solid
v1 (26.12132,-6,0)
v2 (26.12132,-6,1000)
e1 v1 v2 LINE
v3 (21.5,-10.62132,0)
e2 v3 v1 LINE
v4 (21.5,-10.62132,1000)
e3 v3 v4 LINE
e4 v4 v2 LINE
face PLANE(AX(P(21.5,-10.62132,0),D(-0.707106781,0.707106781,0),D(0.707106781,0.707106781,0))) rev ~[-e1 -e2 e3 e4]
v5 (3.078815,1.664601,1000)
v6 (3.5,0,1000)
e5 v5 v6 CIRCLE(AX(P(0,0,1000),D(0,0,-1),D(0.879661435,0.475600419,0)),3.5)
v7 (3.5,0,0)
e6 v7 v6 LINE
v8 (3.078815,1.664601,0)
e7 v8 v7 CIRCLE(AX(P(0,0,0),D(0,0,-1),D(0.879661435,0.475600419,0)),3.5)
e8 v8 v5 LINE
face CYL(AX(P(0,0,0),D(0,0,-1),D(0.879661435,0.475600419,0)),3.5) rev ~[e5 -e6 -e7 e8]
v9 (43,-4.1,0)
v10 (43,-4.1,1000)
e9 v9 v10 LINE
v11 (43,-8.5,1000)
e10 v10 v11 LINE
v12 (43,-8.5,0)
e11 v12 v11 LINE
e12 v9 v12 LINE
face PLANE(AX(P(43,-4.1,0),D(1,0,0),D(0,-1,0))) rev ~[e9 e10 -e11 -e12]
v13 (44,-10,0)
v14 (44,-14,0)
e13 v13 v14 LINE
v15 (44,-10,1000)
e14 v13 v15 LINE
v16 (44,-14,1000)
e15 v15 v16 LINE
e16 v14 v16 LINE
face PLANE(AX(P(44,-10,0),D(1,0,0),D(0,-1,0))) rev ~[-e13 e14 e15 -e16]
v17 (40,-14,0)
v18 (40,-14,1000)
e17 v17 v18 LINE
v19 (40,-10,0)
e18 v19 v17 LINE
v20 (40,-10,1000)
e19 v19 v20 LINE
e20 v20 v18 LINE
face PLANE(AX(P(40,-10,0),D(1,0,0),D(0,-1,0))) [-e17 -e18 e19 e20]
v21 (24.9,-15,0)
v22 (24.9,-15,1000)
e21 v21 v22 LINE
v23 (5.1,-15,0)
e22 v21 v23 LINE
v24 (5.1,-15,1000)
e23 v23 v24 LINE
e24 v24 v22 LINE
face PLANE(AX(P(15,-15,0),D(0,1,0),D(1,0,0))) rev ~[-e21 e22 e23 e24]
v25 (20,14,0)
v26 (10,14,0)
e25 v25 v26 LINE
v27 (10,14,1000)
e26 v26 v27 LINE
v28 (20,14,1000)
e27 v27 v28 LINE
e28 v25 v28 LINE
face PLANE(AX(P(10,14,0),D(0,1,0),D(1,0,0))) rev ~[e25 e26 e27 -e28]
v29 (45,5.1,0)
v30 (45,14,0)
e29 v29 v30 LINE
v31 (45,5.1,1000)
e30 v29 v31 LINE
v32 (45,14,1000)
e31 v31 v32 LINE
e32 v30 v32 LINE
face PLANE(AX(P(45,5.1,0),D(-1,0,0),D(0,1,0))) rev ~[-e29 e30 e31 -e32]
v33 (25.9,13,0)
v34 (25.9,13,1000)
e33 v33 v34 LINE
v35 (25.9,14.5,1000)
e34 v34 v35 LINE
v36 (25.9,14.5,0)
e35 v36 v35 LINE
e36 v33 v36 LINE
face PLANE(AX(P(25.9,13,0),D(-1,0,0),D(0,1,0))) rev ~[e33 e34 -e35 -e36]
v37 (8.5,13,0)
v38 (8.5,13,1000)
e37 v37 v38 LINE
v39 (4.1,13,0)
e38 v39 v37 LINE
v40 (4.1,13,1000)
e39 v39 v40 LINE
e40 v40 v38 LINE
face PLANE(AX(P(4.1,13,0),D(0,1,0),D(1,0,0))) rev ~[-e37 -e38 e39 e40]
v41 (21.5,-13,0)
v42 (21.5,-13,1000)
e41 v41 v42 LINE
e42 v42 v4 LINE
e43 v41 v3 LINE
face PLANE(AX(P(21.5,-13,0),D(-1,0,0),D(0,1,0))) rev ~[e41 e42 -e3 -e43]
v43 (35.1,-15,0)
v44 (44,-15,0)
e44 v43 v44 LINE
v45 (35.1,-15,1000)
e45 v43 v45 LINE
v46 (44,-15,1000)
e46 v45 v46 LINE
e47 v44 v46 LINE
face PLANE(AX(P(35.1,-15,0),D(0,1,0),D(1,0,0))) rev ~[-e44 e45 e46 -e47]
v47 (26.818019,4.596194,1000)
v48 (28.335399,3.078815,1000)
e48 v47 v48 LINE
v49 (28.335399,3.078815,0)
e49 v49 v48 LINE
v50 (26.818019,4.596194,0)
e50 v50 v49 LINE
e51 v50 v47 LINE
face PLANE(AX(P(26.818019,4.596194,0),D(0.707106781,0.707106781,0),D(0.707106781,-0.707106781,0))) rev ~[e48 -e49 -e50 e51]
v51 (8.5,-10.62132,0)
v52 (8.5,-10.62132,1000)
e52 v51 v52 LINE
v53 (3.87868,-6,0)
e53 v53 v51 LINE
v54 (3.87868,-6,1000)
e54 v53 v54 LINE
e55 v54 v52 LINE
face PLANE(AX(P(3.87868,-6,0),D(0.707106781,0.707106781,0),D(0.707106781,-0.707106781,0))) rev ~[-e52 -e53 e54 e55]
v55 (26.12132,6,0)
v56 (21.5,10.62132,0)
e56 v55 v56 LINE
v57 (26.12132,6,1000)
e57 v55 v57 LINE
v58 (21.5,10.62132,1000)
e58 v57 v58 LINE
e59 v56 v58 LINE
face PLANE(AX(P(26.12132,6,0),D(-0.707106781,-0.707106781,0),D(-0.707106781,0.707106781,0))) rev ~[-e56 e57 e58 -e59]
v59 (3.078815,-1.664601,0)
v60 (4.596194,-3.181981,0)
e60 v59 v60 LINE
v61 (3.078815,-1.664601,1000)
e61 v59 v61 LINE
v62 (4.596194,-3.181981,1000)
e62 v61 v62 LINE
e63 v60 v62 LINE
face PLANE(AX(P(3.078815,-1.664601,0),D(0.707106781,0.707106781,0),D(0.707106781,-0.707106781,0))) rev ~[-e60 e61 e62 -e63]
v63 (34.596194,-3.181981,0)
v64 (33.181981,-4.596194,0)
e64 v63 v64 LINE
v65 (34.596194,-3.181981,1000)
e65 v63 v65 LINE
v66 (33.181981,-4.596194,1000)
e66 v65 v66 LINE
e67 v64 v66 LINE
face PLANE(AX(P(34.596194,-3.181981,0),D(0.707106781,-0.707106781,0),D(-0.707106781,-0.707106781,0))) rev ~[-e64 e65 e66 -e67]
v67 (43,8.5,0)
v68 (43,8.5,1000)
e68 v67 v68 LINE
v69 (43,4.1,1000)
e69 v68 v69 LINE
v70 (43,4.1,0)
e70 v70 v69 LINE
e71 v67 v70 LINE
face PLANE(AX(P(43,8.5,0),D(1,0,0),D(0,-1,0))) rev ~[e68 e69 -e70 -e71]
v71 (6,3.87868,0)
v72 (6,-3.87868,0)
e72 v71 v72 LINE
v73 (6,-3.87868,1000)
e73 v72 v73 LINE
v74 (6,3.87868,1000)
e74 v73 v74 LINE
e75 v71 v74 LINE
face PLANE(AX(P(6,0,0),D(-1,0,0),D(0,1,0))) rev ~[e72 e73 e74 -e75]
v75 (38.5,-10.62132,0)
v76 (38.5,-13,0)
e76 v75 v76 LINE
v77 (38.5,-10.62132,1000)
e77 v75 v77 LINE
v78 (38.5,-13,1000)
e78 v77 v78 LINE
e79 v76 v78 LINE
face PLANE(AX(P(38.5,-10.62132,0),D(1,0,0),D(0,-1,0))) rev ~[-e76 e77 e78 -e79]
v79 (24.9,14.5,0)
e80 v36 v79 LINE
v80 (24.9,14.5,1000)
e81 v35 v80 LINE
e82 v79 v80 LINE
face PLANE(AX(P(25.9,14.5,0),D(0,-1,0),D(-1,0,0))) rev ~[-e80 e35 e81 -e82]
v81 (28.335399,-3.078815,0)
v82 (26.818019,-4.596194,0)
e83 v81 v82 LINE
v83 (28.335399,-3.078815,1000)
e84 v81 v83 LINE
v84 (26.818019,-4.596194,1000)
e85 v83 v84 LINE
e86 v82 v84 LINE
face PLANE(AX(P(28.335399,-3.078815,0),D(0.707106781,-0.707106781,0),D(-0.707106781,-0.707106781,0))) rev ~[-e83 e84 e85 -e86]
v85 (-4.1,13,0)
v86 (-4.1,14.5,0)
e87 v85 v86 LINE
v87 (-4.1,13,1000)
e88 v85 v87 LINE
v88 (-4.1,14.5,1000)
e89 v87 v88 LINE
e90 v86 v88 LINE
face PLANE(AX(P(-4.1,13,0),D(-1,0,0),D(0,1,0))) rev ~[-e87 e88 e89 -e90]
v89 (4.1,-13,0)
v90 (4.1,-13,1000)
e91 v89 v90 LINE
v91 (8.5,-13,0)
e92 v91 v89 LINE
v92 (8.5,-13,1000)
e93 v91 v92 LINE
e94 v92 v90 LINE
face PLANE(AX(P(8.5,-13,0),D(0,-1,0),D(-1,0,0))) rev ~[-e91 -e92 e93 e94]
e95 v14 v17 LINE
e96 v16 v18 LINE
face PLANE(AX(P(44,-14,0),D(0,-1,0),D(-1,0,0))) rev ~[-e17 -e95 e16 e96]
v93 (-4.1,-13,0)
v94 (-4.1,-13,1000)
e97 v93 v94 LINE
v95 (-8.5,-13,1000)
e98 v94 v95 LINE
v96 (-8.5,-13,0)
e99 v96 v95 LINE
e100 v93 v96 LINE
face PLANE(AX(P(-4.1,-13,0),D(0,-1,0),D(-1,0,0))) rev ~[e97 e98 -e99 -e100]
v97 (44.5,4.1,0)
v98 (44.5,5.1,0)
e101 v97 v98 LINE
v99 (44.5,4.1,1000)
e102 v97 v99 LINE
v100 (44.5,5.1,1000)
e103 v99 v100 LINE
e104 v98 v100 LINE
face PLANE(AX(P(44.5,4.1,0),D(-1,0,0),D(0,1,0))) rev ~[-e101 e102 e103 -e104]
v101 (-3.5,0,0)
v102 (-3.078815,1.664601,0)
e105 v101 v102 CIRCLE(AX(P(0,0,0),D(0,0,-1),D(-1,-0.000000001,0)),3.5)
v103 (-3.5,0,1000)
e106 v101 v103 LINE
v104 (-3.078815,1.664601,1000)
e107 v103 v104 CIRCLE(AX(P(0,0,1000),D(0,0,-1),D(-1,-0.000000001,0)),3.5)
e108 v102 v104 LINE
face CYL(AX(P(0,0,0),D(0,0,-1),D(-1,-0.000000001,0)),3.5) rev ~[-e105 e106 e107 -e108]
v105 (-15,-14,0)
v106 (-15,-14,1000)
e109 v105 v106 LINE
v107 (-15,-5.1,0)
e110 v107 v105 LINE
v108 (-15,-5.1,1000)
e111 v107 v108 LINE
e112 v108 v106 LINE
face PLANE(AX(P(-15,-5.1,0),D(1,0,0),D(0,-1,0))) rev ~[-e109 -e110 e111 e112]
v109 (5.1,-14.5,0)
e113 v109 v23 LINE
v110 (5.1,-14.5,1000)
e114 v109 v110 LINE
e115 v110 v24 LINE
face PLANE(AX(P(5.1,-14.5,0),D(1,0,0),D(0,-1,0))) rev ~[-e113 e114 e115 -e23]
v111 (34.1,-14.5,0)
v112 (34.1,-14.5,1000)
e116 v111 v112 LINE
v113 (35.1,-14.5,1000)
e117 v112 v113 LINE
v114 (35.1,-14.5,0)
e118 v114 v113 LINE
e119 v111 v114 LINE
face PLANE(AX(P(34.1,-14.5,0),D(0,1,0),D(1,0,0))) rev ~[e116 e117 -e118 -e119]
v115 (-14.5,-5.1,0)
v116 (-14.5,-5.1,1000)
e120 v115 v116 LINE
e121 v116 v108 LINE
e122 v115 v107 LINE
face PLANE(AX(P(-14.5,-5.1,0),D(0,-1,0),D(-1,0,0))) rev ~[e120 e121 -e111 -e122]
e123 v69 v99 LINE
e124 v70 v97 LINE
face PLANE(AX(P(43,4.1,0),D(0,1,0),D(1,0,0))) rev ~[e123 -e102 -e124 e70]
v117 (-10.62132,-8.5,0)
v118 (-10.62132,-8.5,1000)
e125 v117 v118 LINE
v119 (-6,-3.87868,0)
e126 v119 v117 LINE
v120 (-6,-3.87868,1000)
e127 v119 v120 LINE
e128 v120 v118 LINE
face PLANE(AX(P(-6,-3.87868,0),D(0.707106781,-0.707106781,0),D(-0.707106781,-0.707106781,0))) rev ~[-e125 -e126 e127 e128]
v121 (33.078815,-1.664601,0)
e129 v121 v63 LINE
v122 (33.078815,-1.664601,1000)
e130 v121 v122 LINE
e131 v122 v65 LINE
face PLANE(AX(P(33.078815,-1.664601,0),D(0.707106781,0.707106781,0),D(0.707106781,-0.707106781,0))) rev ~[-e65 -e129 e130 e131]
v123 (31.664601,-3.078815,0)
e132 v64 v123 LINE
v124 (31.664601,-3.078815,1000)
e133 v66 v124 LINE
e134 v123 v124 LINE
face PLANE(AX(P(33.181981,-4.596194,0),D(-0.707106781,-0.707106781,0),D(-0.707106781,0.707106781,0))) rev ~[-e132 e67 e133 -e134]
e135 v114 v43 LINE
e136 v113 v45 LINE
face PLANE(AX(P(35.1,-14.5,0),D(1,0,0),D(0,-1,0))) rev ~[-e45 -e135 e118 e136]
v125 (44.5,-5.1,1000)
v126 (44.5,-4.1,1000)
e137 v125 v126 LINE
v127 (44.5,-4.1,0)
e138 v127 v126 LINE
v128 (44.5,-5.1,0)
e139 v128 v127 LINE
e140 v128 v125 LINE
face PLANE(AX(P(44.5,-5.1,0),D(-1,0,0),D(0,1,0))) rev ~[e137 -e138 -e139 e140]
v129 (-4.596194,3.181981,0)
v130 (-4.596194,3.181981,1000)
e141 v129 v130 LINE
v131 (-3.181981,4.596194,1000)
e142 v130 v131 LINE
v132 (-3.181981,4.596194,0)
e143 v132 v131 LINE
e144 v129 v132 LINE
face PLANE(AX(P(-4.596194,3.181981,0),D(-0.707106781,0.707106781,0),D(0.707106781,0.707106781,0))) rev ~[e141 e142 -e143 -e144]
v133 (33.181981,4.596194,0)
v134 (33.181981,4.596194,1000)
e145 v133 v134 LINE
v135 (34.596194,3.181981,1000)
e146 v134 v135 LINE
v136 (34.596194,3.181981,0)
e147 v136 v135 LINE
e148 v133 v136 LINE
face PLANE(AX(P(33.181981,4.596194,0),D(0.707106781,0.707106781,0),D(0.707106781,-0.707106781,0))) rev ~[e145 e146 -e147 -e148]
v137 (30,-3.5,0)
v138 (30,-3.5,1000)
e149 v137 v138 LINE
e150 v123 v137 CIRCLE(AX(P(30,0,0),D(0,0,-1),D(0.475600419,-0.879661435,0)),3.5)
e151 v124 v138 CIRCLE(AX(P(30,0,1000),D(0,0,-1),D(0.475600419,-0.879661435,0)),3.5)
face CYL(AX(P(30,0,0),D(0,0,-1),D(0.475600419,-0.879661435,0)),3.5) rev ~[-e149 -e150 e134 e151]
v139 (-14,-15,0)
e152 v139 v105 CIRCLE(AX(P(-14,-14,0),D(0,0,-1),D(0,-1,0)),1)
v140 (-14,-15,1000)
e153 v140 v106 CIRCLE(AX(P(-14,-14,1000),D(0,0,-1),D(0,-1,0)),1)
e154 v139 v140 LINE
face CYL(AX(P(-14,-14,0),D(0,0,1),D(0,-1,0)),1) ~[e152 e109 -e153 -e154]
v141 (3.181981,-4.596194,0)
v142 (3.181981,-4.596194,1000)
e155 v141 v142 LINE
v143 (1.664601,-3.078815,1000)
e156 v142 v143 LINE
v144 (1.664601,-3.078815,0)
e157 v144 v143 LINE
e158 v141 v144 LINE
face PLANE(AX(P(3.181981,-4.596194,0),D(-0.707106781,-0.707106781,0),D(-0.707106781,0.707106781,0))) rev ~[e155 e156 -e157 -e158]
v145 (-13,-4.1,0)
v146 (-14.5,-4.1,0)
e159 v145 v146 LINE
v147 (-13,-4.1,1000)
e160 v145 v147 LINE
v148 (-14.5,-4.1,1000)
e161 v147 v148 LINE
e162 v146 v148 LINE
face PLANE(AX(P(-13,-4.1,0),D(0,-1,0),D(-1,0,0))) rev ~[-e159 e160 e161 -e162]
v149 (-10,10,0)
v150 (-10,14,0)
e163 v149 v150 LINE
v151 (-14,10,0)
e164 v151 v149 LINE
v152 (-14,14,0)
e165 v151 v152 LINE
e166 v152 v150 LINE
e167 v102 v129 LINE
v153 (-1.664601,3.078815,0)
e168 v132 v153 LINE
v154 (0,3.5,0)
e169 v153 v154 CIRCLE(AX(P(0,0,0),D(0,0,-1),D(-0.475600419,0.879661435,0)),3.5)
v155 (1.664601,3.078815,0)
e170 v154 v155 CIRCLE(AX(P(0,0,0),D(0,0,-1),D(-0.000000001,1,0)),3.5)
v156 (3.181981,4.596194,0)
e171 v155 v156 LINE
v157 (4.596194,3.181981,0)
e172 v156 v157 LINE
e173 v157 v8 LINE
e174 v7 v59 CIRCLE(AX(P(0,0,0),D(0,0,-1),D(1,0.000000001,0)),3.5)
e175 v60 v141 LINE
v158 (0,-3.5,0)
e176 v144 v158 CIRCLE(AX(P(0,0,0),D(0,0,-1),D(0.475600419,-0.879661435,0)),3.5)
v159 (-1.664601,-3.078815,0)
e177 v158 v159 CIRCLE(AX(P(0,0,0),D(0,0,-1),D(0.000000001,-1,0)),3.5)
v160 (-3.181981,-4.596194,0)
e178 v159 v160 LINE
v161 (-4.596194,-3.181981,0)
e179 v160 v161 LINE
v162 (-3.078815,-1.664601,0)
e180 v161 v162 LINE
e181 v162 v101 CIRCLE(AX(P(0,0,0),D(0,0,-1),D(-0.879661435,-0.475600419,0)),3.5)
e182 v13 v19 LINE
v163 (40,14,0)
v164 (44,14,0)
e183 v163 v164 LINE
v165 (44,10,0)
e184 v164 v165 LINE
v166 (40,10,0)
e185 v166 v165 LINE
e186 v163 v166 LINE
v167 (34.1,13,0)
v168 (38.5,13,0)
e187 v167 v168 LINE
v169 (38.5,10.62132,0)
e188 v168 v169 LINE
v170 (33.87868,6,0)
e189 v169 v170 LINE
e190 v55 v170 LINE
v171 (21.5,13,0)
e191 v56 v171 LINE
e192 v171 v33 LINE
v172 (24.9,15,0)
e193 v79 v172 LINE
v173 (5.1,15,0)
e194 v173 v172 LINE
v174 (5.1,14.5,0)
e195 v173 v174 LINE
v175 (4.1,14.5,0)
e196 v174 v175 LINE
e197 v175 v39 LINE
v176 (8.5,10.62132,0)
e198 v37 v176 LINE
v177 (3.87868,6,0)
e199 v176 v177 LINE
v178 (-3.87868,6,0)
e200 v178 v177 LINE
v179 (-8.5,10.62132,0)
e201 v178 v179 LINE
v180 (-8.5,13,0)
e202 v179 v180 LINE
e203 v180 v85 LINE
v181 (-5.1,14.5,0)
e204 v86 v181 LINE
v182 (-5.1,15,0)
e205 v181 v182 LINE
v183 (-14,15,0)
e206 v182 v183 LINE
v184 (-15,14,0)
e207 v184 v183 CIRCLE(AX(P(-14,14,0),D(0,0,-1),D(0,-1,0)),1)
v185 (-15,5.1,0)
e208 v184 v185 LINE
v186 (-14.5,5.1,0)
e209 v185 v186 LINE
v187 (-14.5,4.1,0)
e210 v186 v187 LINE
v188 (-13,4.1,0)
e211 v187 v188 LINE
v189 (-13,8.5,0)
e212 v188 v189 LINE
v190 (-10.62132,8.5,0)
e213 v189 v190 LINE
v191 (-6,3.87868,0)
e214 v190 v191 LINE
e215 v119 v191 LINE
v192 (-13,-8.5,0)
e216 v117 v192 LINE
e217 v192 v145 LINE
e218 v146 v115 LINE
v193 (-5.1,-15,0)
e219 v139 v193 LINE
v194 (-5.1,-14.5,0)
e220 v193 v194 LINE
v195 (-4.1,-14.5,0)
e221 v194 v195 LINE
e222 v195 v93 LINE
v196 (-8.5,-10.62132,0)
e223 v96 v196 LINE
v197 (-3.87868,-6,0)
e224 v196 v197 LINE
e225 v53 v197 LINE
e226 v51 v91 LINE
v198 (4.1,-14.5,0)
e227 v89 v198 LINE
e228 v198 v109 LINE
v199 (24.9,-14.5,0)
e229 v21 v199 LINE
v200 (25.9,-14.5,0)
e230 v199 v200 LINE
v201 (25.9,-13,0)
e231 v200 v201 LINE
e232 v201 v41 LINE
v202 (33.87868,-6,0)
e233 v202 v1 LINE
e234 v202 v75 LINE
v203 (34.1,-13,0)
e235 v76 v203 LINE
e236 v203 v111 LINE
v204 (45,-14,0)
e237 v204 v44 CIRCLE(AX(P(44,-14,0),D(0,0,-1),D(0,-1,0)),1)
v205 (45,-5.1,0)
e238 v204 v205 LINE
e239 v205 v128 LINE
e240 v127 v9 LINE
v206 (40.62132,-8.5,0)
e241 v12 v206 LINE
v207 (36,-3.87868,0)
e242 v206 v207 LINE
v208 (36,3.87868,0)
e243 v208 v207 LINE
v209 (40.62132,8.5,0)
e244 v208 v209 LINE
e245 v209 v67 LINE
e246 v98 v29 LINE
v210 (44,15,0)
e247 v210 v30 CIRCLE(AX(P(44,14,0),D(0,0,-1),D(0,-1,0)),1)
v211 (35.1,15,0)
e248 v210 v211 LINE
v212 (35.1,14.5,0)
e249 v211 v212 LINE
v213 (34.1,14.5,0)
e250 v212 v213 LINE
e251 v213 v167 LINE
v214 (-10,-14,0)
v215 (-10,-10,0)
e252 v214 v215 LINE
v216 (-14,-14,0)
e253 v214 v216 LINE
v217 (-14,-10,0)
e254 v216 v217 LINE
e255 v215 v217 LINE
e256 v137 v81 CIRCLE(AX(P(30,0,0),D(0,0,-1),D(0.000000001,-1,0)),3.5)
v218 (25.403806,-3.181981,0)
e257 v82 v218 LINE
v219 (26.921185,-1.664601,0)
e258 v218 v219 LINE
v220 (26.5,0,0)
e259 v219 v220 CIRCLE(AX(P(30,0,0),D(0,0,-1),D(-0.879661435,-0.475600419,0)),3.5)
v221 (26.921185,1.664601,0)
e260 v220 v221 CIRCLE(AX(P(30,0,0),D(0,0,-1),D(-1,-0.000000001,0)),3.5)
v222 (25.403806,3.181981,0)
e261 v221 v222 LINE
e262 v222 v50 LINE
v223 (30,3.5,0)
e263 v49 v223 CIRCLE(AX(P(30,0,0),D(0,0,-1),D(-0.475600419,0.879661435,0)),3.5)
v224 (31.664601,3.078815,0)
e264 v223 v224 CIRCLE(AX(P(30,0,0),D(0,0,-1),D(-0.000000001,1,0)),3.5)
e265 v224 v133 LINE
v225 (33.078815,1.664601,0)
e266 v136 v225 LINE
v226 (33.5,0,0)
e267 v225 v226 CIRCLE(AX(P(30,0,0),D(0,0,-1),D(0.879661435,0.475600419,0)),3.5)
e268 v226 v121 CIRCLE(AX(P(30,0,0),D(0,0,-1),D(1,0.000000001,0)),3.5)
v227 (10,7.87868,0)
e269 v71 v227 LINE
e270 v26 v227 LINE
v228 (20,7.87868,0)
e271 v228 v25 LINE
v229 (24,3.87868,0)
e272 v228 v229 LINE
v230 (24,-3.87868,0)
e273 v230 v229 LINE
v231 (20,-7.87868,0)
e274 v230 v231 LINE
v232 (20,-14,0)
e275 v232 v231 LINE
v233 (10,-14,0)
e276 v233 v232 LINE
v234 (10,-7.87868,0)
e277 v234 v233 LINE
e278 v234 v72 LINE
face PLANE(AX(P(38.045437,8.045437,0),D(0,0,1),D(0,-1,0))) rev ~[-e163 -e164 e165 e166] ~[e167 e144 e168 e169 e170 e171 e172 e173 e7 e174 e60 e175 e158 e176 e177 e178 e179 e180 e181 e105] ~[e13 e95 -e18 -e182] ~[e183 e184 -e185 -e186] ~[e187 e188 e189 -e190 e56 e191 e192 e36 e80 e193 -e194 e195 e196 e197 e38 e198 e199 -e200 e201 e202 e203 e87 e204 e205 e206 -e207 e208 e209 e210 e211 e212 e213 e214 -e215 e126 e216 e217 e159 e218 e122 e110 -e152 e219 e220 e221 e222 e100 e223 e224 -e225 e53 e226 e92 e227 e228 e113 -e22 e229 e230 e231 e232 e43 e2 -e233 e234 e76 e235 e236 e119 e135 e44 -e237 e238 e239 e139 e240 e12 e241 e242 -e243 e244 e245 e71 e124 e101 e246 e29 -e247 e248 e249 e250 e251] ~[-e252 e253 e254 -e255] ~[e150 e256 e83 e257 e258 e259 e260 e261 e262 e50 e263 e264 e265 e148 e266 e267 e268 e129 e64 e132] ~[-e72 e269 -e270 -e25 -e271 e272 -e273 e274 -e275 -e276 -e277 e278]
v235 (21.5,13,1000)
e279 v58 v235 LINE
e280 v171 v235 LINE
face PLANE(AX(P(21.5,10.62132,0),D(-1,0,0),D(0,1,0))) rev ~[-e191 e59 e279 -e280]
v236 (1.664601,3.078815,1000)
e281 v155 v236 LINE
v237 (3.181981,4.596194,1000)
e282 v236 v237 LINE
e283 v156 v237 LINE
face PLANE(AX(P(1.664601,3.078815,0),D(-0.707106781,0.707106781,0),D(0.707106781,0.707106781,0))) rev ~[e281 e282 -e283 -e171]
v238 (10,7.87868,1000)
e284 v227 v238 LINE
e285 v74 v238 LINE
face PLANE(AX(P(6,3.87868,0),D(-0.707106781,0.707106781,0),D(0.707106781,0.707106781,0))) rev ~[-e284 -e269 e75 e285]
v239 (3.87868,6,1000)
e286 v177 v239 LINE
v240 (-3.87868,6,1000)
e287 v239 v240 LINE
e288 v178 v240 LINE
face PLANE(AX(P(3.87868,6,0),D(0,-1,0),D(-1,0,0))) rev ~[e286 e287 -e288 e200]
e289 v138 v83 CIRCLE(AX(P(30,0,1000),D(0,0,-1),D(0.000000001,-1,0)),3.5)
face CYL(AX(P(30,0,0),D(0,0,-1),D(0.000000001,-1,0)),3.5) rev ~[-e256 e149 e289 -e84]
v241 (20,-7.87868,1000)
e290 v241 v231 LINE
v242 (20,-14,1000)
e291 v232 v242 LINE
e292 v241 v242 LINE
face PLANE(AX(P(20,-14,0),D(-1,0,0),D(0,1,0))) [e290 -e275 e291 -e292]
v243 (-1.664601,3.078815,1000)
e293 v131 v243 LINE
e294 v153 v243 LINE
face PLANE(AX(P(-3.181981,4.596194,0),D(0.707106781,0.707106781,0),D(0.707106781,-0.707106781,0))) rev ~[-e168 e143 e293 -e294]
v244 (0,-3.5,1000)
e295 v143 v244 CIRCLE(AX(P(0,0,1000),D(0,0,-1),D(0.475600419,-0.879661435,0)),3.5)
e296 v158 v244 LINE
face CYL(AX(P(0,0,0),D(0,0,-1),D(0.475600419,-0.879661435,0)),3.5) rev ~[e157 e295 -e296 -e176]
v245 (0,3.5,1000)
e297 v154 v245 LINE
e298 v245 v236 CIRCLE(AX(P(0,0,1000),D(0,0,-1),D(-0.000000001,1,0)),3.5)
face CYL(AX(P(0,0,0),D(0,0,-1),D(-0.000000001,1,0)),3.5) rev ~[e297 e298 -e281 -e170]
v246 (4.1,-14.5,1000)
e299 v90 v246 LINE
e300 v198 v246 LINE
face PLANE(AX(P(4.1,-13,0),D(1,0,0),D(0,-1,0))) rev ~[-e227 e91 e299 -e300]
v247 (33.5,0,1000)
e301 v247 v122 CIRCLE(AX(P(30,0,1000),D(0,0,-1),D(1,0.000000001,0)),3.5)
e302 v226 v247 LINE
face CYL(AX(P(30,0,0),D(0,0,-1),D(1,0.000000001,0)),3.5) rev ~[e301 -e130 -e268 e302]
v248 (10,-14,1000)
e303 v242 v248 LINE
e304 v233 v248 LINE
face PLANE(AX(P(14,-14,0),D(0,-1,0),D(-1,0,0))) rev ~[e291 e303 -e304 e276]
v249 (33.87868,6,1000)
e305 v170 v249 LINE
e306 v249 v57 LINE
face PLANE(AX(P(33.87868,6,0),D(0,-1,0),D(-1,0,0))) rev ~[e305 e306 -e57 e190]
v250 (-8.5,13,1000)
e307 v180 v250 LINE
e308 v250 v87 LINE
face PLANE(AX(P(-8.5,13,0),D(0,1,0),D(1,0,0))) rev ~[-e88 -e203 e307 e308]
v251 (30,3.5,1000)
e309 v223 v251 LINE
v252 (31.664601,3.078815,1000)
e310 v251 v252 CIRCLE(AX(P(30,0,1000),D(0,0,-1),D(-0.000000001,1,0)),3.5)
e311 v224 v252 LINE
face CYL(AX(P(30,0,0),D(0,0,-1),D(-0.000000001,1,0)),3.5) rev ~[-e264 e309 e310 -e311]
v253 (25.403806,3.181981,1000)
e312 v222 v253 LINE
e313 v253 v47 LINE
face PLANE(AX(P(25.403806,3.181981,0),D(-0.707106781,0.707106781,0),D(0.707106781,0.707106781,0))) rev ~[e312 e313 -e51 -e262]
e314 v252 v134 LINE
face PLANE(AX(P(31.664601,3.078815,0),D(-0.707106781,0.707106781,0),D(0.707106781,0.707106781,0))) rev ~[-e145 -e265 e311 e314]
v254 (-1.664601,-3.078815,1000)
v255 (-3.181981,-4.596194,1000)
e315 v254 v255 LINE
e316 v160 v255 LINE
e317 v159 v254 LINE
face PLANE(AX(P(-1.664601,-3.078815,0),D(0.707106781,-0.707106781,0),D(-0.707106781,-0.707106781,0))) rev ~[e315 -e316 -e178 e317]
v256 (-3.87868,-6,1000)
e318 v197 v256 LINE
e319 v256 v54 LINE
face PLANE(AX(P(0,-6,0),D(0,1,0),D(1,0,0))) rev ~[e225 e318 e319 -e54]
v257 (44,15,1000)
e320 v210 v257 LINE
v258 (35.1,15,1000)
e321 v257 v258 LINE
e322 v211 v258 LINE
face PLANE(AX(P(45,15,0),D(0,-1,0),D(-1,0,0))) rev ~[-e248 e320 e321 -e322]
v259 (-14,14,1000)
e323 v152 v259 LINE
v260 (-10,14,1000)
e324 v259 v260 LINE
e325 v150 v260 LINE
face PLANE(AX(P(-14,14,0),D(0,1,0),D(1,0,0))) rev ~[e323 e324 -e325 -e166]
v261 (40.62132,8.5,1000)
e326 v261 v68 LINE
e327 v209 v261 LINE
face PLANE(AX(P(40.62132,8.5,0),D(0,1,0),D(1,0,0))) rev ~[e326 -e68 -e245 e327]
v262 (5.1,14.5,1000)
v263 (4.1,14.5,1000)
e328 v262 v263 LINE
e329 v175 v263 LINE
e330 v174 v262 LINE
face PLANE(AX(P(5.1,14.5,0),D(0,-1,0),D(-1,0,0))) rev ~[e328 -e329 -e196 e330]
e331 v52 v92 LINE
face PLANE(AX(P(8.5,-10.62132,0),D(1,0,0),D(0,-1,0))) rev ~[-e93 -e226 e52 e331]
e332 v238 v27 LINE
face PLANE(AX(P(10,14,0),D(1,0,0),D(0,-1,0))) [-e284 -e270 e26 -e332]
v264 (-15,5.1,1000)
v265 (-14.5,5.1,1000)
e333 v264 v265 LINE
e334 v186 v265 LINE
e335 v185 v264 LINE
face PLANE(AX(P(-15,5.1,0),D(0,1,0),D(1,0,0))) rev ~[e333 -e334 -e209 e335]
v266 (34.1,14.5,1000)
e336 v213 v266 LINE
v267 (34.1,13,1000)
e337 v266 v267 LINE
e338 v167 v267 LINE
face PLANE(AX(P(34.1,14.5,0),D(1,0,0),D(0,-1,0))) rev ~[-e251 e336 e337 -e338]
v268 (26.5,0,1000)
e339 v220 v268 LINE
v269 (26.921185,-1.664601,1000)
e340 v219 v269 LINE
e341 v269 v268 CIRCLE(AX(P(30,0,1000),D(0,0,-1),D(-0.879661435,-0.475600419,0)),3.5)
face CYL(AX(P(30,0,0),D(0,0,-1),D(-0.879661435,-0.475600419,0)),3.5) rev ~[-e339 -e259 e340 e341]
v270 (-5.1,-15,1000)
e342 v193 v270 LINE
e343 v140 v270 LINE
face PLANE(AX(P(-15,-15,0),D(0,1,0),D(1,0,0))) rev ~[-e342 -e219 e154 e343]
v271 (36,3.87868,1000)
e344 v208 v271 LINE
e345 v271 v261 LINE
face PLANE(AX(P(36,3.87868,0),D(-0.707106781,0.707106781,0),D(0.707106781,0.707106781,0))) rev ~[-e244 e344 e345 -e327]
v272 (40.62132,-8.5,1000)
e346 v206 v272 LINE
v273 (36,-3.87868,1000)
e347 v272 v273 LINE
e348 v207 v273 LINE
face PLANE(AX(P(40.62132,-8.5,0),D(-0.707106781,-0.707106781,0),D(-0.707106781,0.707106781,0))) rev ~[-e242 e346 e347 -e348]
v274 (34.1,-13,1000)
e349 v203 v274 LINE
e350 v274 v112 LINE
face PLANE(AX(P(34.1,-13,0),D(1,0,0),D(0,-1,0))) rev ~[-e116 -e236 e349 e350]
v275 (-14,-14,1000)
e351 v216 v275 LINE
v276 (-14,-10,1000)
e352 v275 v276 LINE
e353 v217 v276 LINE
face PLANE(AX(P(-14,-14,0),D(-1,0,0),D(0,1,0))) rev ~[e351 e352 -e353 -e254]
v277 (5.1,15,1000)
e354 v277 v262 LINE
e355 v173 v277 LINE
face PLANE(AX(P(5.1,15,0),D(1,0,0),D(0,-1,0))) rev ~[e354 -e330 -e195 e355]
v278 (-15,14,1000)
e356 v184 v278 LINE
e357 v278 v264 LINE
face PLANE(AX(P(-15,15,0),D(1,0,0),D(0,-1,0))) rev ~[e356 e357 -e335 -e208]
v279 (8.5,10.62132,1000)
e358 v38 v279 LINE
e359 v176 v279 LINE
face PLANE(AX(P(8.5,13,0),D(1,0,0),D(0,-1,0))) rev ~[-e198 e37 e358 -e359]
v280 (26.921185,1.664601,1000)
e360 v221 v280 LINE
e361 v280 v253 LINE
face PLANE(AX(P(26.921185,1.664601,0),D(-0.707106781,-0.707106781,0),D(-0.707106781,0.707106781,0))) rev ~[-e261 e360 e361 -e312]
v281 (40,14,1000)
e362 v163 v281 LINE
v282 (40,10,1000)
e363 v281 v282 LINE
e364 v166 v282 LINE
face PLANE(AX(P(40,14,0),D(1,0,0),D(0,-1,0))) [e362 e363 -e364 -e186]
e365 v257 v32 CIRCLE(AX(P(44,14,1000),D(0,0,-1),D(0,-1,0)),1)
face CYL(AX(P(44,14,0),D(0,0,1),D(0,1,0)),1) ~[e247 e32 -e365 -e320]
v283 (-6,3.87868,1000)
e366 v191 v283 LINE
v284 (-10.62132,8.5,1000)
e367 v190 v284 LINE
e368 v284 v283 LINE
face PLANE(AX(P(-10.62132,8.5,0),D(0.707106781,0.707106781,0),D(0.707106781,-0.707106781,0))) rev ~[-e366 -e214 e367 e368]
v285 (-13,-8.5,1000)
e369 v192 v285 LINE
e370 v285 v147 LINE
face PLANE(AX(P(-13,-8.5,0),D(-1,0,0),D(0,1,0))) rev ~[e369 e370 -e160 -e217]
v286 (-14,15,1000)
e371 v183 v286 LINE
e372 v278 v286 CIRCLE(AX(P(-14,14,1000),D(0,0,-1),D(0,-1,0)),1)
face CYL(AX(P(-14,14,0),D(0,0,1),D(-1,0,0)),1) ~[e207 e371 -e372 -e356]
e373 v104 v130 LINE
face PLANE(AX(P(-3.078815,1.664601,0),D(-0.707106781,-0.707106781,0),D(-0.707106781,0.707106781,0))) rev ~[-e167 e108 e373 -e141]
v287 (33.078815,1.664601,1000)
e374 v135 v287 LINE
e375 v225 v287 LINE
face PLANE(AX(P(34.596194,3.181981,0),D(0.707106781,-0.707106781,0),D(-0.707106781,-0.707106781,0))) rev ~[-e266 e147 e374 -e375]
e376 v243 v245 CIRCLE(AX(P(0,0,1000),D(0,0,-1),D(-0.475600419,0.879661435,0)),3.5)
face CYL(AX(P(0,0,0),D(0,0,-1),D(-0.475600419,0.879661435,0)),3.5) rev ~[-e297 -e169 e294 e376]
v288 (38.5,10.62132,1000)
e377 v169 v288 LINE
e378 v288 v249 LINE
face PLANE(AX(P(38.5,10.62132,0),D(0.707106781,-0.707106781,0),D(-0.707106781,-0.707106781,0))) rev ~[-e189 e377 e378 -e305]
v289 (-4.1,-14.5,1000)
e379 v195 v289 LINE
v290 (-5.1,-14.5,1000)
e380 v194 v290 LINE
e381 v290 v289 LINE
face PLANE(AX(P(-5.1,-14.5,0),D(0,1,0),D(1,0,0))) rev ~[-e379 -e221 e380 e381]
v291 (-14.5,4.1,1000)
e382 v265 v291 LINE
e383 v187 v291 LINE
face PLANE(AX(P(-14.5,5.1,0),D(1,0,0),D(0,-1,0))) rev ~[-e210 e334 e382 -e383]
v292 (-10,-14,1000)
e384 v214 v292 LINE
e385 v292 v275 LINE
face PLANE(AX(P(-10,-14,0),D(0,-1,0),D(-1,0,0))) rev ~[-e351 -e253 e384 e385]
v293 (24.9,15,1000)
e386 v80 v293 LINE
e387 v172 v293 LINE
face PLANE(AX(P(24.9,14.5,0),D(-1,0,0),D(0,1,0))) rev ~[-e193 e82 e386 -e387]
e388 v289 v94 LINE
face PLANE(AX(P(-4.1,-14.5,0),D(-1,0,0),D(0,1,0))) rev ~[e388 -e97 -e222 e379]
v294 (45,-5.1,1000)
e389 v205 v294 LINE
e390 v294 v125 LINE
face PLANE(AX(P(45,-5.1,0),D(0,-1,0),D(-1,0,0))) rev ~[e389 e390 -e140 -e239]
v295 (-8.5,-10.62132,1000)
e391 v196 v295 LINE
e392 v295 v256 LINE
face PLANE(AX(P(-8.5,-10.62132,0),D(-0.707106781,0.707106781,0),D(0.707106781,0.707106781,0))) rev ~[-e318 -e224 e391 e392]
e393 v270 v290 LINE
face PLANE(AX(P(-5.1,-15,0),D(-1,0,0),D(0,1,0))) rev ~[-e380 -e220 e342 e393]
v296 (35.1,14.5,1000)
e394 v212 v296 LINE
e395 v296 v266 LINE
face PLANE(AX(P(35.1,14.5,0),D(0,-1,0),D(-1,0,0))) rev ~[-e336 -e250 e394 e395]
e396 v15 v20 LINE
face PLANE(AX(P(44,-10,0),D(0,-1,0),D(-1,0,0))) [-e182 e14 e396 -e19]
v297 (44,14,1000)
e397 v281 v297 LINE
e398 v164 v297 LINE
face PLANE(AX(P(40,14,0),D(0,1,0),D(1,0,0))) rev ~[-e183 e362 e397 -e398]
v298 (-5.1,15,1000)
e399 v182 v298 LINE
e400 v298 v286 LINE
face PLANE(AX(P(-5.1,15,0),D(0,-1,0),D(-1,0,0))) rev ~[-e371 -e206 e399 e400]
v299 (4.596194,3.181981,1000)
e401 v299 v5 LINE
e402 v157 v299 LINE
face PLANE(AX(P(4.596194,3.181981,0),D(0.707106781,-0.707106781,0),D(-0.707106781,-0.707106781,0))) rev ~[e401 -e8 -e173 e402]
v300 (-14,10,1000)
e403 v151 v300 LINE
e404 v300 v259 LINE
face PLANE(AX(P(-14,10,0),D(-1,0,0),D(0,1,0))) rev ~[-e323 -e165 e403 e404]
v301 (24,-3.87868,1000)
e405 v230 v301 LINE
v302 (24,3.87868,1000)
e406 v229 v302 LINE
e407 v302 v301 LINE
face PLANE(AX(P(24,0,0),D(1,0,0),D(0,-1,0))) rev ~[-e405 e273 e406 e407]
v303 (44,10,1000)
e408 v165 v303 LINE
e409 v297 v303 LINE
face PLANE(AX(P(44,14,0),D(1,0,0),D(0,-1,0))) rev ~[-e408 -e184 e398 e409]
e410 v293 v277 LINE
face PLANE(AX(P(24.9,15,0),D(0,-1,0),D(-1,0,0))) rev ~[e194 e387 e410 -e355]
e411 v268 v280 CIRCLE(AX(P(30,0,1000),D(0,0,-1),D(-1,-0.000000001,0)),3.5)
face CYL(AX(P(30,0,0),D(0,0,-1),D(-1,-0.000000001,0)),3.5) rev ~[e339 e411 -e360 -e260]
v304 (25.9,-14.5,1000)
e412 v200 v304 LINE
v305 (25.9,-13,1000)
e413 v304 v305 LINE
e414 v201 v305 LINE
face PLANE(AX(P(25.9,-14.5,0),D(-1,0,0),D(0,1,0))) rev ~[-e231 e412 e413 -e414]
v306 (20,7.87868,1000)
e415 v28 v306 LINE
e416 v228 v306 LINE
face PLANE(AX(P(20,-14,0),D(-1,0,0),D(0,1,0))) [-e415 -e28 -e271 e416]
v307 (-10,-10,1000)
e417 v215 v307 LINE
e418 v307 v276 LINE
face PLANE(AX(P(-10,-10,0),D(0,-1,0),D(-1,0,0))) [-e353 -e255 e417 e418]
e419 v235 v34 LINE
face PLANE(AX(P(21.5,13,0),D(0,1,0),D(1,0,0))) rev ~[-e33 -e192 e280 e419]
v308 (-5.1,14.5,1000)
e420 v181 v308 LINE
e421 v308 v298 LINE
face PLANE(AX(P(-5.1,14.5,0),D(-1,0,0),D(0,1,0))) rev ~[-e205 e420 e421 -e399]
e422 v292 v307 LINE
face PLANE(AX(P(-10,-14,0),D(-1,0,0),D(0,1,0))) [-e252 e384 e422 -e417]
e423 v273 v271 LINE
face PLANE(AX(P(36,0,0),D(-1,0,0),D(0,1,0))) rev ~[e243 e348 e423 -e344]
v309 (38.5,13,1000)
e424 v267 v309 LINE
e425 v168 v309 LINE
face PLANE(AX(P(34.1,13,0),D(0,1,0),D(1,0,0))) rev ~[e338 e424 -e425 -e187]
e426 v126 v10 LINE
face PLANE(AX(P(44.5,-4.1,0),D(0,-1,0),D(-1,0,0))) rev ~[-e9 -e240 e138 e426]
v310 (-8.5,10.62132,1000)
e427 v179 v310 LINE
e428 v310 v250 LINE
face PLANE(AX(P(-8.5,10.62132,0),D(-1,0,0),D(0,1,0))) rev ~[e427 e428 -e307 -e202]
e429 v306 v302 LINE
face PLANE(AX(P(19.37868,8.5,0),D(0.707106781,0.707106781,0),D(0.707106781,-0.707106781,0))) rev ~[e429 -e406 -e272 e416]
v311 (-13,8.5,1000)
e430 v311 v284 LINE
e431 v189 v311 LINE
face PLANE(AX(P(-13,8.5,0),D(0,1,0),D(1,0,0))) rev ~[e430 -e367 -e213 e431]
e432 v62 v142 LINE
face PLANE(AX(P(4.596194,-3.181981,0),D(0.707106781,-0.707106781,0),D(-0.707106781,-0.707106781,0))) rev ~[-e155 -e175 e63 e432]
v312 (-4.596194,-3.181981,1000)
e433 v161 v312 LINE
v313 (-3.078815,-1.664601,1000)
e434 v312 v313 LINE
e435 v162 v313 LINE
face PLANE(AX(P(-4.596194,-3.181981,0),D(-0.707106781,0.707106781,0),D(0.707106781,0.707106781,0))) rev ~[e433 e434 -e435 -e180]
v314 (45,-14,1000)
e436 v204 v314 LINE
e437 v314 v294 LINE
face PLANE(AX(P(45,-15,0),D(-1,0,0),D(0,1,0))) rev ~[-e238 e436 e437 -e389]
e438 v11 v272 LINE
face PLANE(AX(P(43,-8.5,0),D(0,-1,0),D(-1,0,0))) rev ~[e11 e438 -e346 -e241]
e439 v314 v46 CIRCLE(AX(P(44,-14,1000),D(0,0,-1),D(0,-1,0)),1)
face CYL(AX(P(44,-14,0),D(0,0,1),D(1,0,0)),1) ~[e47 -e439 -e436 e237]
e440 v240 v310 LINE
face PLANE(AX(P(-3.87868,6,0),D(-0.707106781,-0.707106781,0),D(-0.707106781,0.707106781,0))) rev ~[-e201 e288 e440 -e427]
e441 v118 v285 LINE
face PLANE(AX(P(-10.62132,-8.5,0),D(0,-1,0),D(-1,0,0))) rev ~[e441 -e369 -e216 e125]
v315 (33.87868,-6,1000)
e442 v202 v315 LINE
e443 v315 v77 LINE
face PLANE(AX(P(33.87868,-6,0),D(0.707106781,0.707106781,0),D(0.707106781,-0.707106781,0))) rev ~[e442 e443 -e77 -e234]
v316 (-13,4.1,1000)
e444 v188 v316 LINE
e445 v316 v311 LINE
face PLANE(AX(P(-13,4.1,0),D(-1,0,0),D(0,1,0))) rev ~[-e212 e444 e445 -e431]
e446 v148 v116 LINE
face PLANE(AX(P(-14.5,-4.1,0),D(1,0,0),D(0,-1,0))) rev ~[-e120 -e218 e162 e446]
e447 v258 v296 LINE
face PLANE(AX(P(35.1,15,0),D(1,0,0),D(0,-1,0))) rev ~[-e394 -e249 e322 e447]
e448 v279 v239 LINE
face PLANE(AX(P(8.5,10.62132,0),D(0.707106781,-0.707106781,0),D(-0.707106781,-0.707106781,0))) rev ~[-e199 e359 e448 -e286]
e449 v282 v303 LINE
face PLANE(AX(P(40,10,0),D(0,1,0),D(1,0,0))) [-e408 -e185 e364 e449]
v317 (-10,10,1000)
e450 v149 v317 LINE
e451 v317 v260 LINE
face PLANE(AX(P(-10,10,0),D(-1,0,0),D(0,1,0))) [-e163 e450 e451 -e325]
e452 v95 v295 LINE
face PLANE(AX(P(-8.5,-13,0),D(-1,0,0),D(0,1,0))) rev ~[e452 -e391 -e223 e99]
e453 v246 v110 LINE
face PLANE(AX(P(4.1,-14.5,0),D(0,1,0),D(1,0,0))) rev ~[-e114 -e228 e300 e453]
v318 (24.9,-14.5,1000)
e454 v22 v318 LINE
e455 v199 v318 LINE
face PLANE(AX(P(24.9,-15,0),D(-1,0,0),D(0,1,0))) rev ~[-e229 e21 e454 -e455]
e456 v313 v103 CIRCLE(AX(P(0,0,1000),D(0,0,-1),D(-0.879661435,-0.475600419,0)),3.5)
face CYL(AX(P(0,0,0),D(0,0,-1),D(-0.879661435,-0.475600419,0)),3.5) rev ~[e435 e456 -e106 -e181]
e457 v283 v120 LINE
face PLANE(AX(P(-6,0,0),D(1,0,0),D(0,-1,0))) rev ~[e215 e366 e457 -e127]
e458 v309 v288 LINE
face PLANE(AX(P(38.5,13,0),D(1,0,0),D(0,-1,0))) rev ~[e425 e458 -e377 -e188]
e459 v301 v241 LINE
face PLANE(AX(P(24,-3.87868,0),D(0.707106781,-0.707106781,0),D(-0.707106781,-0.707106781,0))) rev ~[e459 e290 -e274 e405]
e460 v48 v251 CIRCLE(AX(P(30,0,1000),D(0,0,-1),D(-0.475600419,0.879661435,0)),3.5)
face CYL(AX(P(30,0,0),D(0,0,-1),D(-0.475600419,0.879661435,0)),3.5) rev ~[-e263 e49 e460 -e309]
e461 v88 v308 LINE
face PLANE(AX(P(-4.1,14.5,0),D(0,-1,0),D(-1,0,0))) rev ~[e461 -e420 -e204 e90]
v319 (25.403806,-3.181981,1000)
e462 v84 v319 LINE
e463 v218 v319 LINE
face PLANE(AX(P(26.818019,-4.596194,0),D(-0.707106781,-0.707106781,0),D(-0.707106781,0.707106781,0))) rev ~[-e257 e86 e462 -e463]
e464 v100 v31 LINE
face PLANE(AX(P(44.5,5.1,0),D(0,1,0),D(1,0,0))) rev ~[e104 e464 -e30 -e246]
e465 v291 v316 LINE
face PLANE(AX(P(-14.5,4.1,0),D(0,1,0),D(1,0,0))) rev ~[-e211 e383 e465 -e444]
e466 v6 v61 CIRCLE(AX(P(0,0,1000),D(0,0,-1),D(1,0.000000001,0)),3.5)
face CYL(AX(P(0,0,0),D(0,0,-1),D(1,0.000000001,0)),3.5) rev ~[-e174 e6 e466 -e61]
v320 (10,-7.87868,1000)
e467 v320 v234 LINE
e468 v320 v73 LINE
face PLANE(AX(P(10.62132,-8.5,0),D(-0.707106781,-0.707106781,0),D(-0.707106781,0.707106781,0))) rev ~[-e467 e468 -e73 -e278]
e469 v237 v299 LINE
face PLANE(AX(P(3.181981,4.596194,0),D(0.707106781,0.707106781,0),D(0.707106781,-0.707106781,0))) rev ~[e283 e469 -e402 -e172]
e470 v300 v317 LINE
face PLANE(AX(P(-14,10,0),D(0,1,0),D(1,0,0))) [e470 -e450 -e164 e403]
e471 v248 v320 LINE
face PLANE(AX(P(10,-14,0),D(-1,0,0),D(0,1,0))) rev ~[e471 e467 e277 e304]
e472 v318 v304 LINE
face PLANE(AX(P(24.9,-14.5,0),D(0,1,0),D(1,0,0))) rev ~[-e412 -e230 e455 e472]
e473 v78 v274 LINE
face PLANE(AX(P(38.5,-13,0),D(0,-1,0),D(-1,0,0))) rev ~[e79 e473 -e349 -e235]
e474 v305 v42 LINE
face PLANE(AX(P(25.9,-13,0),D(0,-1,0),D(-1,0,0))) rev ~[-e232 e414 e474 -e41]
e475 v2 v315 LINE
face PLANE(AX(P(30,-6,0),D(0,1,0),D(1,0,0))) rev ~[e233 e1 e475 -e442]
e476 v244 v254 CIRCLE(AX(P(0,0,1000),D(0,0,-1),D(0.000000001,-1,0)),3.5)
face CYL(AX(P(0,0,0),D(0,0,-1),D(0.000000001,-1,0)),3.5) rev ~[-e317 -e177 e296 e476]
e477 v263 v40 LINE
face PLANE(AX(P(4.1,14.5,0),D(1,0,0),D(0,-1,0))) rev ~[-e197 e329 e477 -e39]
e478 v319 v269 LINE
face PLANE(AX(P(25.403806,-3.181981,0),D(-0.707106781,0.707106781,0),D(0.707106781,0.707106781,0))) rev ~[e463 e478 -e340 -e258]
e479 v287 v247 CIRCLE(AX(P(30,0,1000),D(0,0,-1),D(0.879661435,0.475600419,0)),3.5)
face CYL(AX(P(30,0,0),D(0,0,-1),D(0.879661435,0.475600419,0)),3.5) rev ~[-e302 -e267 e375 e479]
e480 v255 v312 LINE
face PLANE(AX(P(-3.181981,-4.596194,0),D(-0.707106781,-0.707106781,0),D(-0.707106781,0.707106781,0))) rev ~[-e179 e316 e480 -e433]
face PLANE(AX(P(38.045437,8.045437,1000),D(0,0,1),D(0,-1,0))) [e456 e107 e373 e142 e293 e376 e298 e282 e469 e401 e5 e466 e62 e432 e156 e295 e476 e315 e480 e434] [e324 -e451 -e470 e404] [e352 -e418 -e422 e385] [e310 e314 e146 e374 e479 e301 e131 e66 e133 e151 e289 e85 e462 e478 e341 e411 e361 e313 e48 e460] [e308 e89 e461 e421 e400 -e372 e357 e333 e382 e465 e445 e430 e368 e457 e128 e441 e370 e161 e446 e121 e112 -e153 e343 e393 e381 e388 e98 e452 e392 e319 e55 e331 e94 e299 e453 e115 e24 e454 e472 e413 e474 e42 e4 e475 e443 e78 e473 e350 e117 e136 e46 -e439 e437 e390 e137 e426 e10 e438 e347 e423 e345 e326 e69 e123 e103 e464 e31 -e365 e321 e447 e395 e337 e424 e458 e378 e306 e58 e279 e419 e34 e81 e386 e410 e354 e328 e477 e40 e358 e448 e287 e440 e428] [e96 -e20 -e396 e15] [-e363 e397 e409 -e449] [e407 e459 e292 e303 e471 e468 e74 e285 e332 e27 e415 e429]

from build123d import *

# Parameters (mm, degrees)
ESBO_O1_W                      = 4
ESBO_O1_H                      = 4
RESSALTO_EXTRUS_O1_DEPTH       = 1000
PADR_OCIRCULAR1_COUNT          = 4
PADR_O_LINEAR1_COUNT           = 2
PADR_O_LINEAR1_PITCH           = 30
PADR_O_LINEAR1_COPY_1_SKETCH_W = 4
PADR_O_LINEAR1_COPY_1_SKETCH_H = 4
PADR_O_LINEAR1_COPY_1_DEPTH    = 1000
PADR_O_LINEAR1_COPY_2_SKETCH_W = 4
PADR_O_LINEAR1_COPY_2_SKETCH_H = 4
PADR_O_LINEAR1_COPY_2_DEPTH    = 1000
PADR_O_LINEAR1_COPY_3_SKETCH_W = 4
PADR_O_LINEAR1_COPY_3_SKETCH_H = 4
PADR_O_LINEAR1_COPY_3_DEPTH    = 1000
ESBO_O4_W                      = 10
ESBO_O4_H                      = 28
CORTE_EXTRUS_O1_DEPTH          = 1002.124367898
FILETE1_R                      = 1


with BuildPart() as part:
    # Esboço1 → Ressalto-extrusão1 (new body)
    with BuildSketch(Plane.XY):
        with BuildLine():
            ThreePointArc((-1.664601464, 3.078815026), (-0.858529967, 3.393070335), (0, 3.5))
            Line((0, 3.5), (0, 6))
            Line((0, 6), (-3.878679656, 6))
            Line((-3.878679656, 6), (-8.5, 10.621320344))
            Line((-8.5, 10.621320344), (-8.5, 13))
            Line((-8.5, 13), (-4.1, 13))
            Line((-4.1, 13), (-4.1, 14.5))
            Line((-4.1, 14.5), (-5.1, 14.5))
            Line((-5.1, 14.5), (-5.1, 15))
            Line((-5.1, 15), (-15, 15))
            Line((-15, 15), (-15, 5.1))
            Line((-15, 5.1), (-14.5, 5.1))
            Line((-14.5, 5.1), (-14.5, 4.1))
            Line((-14.5, 4.1), (-13, 4.1))
            Line((-13, 4.1), (-13, 8.5))
            Line((-13, 8.5), (-10.621320344, 8.5))
            Line((-10.621320344, 8.5), (-6, 3.878679656))
            Line((-6, 3.878679656), (-6, 0))
            Line((-6, 0), (-3.5, 0))
            ThreePointArc((-3.5, 0), (-3.393070335, 0.858529967), (-3.078815026, 1.664601464))
            Line((-3.078815026, 1.664601464), (-4.596194078, 3.181980515))
            Line((-4.596194078, 3.181980515), (-3.181980515, 4.596194078))
            Line((-3.181980515, 4.596194078), (-1.664601464, 3.078815026))
        make_face()
        with Locations((-12, 12)):
            Rectangle(ESBO_O1_W, ESBO_O1_H, mode=Mode.SUBTRACT)
    ressalto_extrus_o1 = extrude(amount=RESSALTO_EXTRUS_O1_DEPTH)

    # PadrãoCircular1: Ressalto-extrusão1 ×4 about axis
    padr_ocircular1_axis = Axis((0, 0, 0), (0, 0, 1))
    for i in range(1, PADR_OCIRCULAR1_COUNT):
        add(ressalto_extrus_o1.rotate(padr_ocircular1_axis, i * 360 / PADR_OCIRCULAR1_COUNT))

    # Padrão linear1: Ressalto-extrusão1 ×2
    with Locations(*[(i * PADR_O_LINEAR1_PITCH, 0, 0) for i in range(1, PADR_O_LINEAR1_COUNT)]):
        add(ressalto_extrus_o1)

    # Padrão linear1 copy 1 sketch → Padrão linear1 copy 1 (add)
    with BuildSketch(Plane(origin=(30, 0, 0), x_dir=(0, 1, 0), z_dir=(0, 0, 1))):
        with BuildLine():
            ThreePointArc((-1.664601464, 3.078815026), (-0.858529967, 3.393070335), (0, 3.5))
            Line((0, 3.5), (0, 6))
            Line((0, 6), (-3.878679656, 6))
            Line((-3.878679656, 6), (-8.5, 10.621320344))
            Line((-8.5, 10.621320344), (-8.5, 13))
            Line((-8.5, 13), (-4.1, 13))
            Line((-4.1, 13), (-4.1, 14.5))
            Line((-4.1, 14.5), (-5.1, 14.5))
            Line((-5.1, 14.5), (-5.1, 15))
            Line((-5.1, 15), (-15, 15))
            Line((-15, 15), (-15, 5.1))
            Line((-15, 5.1), (-14.5, 5.1))
            Line((-14.5, 5.1), (-14.5, 4.1))
            Line((-14.5, 4.1), (-13, 4.1))
            Line((-13, 4.1), (-13, 8.5))
            Line((-13, 8.5), (-10.621320344, 8.5))
            Line((-10.621320344, 8.5), (-6, 3.878679656))
            Line((-6, 3.878679656), (-6, 0))
            Line((-6, 0), (-3.5, 0))
            ThreePointArc((-3.5, 0), (-3.393070335, 0.858529967), (-3.078815026, 1.664601464))
            Line((-3.078815026, 1.664601464), (-4.596194078, 3.181980515))
            Line((-4.596194078, 3.181980515), (-3.181980515, 4.596194078))
            Line((-3.181980515, 4.596194078), (-1.664601464, 3.078815026))
        make_face()
        with Locations((-12, 12)):
            Rectangle(PADR_O_LINEAR1_COPY_1_SKETCH_W, PADR_O_LINEAR1_COPY_1_SKETCH_H, mode=Mode.SUBTRACT)
    extrude(amount=PADR_O_LINEAR1_COPY_1_DEPTH)

    # Padrão linear1 copy 2 sketch → Padrão linear1 copy 2 (add)
    with BuildSketch(Plane(origin=(30, 0, 0), x_dir=(-1, 0, 0), z_dir=(0, 0, 1))):
        with BuildLine():
            ThreePointArc((-1.664601464, 3.078815026), (-0.858529967, 3.393070335), (0, 3.5))
            Line((0, 3.5), (0, 6))
            Line((0, 6), (-3.878679656, 6))
            Line((-3.878679656, 6), (-8.5, 10.621320344))
            Line((-8.5, 10.621320344), (-8.5, 13))
            Line((-8.5, 13), (-4.1, 13))
            Line((-4.1, 13), (-4.1, 14.5))
            Line((-4.1, 14.5), (-5.1, 14.5))
            Line((-5.1, 14.5), (-5.1, 15))
            Line((-5.1, 15), (-15, 15))
            Line((-15, 15), (-15, 5.1))
            Line((-15, 5.1), (-14.5, 5.1))
            Line((-14.5, 5.1), (-14.5, 4.1))
            Line((-14.5, 4.1), (-13, 4.1))
            Line((-13, 4.1), (-13, 8.5))
            Line((-13, 8.5), (-10.621320344, 8.5))
            Line((-10.621320344, 8.5), (-6, 3.878679656))
            Line((-6, 3.878679656), (-6, 0))
            Line((-6, 0), (-3.5, 0))
            ThreePointArc((-3.5, 0), (-3.393070335, 0.858529967), (-3.078815026, 1.664601464))
            Line((-3.078815026, 1.664601464), (-4.596194078, 3.181980515))
            Line((-4.596194078, 3.181980515), (-3.181980515, 4.596194078))
            Line((-3.181980515, 4.596194078), (-1.664601464, 3.078815026))
        make_face()
        with Locations((-12, 12)):
            Rectangle(PADR_O_LINEAR1_COPY_2_SKETCH_W, PADR_O_LINEAR1_COPY_2_SKETCH_H, mode=Mode.SUBTRACT)
    extrude(amount=PADR_O_LINEAR1_COPY_2_DEPTH)

    # Padrão linear1 copy 3 sketch → Padrão linear1 copy 3 (add)
    with BuildSketch(Plane(origin=(30, 0, 0), x_dir=(0, -1, 0), z_dir=(0, 0, 1))):
        with BuildLine():
            ThreePointArc((-1.664601464, 3.078815026), (-0.858529967, 3.393070335), (0, 3.5))
            Line((0, 3.5), (0, 6))
            Line((0, 6), (-3.878679656, 6))
            Line((-3.878679656, 6), (-8.5, 10.621320344))
            Line((-8.5, 10.621320344), (-8.5, 13))
            Line((-8.5, 13), (-4.1, 13))
            Line((-4.1, 13), (-4.1, 14.5))
            Line((-4.1, 14.5), (-5.1, 14.5))
            Line((-5.1, 14.5), (-5.1, 15))
            Line((-5.1, 15), (-15, 15))
            Line((-15, 15), (-15, 5.1))
            Line((-15, 5.1), (-14.5, 5.1))
            Line((-14.5, 5.1), (-14.5, 4.1))
            Line((-14.5, 4.1), (-13, 4.1))
            Line((-13, 4.1), (-13, 8.5))
            Line((-13, 8.5), (-10.621320344, 8.5))
            Line((-10.621320344, 8.5), (-6, 3.878679656))
            Line((-6, 3.878679656), (-6, 0))
            Line((-6, 0), (-3.5, 0))
            ThreePointArc((-3.5, 0), (-3.393070335, 0.858529967), (-3.078815026, 1.664601464))
            Line((-3.078815026, 1.664601464), (-4.596194078, 3.181980515))
            Line((-4.596194078, 3.181980515), (-3.181980515, 4.596194078))
            Line((-3.181980515, 4.596194078), (-1.664601464, 3.078815026))
        make_face()
        with Locations((-12, 12)):
            Rectangle(PADR_O_LINEAR1_COPY_3_SKETCH_W, PADR_O_LINEAR1_COPY_3_SKETCH_H, mode=Mode.SUBTRACT)
    extrude(amount=PADR_O_LINEAR1_COPY_3_DEPTH)

    # Esboço4 → Corte-extrusão1 (cut, through all)
    with BuildSketch(Plane(origin=(0, 0, 0), x_dir=(-1, 0, 0), z_dir=(0, 0, -1))):
        with Locations((-15, 0)):
            Rectangle(ESBO_O4_W, ESBO_O4_H)
    extrude(amount=-CORTE_EXTRUS_O1_DEPTH, mode=Mode.SUBTRACT)

    # Filete1
    filete1_edges = [part.edges().sort_by_distance(p)[0] for p in [
        (45, -15, 500),
        (45, 15, 500),
        (-15, 15, 500),
        (-15, -15, 500),
    ]]
    fillet(filete1_edges, radius=FILETE1_R)


solid = part.part
